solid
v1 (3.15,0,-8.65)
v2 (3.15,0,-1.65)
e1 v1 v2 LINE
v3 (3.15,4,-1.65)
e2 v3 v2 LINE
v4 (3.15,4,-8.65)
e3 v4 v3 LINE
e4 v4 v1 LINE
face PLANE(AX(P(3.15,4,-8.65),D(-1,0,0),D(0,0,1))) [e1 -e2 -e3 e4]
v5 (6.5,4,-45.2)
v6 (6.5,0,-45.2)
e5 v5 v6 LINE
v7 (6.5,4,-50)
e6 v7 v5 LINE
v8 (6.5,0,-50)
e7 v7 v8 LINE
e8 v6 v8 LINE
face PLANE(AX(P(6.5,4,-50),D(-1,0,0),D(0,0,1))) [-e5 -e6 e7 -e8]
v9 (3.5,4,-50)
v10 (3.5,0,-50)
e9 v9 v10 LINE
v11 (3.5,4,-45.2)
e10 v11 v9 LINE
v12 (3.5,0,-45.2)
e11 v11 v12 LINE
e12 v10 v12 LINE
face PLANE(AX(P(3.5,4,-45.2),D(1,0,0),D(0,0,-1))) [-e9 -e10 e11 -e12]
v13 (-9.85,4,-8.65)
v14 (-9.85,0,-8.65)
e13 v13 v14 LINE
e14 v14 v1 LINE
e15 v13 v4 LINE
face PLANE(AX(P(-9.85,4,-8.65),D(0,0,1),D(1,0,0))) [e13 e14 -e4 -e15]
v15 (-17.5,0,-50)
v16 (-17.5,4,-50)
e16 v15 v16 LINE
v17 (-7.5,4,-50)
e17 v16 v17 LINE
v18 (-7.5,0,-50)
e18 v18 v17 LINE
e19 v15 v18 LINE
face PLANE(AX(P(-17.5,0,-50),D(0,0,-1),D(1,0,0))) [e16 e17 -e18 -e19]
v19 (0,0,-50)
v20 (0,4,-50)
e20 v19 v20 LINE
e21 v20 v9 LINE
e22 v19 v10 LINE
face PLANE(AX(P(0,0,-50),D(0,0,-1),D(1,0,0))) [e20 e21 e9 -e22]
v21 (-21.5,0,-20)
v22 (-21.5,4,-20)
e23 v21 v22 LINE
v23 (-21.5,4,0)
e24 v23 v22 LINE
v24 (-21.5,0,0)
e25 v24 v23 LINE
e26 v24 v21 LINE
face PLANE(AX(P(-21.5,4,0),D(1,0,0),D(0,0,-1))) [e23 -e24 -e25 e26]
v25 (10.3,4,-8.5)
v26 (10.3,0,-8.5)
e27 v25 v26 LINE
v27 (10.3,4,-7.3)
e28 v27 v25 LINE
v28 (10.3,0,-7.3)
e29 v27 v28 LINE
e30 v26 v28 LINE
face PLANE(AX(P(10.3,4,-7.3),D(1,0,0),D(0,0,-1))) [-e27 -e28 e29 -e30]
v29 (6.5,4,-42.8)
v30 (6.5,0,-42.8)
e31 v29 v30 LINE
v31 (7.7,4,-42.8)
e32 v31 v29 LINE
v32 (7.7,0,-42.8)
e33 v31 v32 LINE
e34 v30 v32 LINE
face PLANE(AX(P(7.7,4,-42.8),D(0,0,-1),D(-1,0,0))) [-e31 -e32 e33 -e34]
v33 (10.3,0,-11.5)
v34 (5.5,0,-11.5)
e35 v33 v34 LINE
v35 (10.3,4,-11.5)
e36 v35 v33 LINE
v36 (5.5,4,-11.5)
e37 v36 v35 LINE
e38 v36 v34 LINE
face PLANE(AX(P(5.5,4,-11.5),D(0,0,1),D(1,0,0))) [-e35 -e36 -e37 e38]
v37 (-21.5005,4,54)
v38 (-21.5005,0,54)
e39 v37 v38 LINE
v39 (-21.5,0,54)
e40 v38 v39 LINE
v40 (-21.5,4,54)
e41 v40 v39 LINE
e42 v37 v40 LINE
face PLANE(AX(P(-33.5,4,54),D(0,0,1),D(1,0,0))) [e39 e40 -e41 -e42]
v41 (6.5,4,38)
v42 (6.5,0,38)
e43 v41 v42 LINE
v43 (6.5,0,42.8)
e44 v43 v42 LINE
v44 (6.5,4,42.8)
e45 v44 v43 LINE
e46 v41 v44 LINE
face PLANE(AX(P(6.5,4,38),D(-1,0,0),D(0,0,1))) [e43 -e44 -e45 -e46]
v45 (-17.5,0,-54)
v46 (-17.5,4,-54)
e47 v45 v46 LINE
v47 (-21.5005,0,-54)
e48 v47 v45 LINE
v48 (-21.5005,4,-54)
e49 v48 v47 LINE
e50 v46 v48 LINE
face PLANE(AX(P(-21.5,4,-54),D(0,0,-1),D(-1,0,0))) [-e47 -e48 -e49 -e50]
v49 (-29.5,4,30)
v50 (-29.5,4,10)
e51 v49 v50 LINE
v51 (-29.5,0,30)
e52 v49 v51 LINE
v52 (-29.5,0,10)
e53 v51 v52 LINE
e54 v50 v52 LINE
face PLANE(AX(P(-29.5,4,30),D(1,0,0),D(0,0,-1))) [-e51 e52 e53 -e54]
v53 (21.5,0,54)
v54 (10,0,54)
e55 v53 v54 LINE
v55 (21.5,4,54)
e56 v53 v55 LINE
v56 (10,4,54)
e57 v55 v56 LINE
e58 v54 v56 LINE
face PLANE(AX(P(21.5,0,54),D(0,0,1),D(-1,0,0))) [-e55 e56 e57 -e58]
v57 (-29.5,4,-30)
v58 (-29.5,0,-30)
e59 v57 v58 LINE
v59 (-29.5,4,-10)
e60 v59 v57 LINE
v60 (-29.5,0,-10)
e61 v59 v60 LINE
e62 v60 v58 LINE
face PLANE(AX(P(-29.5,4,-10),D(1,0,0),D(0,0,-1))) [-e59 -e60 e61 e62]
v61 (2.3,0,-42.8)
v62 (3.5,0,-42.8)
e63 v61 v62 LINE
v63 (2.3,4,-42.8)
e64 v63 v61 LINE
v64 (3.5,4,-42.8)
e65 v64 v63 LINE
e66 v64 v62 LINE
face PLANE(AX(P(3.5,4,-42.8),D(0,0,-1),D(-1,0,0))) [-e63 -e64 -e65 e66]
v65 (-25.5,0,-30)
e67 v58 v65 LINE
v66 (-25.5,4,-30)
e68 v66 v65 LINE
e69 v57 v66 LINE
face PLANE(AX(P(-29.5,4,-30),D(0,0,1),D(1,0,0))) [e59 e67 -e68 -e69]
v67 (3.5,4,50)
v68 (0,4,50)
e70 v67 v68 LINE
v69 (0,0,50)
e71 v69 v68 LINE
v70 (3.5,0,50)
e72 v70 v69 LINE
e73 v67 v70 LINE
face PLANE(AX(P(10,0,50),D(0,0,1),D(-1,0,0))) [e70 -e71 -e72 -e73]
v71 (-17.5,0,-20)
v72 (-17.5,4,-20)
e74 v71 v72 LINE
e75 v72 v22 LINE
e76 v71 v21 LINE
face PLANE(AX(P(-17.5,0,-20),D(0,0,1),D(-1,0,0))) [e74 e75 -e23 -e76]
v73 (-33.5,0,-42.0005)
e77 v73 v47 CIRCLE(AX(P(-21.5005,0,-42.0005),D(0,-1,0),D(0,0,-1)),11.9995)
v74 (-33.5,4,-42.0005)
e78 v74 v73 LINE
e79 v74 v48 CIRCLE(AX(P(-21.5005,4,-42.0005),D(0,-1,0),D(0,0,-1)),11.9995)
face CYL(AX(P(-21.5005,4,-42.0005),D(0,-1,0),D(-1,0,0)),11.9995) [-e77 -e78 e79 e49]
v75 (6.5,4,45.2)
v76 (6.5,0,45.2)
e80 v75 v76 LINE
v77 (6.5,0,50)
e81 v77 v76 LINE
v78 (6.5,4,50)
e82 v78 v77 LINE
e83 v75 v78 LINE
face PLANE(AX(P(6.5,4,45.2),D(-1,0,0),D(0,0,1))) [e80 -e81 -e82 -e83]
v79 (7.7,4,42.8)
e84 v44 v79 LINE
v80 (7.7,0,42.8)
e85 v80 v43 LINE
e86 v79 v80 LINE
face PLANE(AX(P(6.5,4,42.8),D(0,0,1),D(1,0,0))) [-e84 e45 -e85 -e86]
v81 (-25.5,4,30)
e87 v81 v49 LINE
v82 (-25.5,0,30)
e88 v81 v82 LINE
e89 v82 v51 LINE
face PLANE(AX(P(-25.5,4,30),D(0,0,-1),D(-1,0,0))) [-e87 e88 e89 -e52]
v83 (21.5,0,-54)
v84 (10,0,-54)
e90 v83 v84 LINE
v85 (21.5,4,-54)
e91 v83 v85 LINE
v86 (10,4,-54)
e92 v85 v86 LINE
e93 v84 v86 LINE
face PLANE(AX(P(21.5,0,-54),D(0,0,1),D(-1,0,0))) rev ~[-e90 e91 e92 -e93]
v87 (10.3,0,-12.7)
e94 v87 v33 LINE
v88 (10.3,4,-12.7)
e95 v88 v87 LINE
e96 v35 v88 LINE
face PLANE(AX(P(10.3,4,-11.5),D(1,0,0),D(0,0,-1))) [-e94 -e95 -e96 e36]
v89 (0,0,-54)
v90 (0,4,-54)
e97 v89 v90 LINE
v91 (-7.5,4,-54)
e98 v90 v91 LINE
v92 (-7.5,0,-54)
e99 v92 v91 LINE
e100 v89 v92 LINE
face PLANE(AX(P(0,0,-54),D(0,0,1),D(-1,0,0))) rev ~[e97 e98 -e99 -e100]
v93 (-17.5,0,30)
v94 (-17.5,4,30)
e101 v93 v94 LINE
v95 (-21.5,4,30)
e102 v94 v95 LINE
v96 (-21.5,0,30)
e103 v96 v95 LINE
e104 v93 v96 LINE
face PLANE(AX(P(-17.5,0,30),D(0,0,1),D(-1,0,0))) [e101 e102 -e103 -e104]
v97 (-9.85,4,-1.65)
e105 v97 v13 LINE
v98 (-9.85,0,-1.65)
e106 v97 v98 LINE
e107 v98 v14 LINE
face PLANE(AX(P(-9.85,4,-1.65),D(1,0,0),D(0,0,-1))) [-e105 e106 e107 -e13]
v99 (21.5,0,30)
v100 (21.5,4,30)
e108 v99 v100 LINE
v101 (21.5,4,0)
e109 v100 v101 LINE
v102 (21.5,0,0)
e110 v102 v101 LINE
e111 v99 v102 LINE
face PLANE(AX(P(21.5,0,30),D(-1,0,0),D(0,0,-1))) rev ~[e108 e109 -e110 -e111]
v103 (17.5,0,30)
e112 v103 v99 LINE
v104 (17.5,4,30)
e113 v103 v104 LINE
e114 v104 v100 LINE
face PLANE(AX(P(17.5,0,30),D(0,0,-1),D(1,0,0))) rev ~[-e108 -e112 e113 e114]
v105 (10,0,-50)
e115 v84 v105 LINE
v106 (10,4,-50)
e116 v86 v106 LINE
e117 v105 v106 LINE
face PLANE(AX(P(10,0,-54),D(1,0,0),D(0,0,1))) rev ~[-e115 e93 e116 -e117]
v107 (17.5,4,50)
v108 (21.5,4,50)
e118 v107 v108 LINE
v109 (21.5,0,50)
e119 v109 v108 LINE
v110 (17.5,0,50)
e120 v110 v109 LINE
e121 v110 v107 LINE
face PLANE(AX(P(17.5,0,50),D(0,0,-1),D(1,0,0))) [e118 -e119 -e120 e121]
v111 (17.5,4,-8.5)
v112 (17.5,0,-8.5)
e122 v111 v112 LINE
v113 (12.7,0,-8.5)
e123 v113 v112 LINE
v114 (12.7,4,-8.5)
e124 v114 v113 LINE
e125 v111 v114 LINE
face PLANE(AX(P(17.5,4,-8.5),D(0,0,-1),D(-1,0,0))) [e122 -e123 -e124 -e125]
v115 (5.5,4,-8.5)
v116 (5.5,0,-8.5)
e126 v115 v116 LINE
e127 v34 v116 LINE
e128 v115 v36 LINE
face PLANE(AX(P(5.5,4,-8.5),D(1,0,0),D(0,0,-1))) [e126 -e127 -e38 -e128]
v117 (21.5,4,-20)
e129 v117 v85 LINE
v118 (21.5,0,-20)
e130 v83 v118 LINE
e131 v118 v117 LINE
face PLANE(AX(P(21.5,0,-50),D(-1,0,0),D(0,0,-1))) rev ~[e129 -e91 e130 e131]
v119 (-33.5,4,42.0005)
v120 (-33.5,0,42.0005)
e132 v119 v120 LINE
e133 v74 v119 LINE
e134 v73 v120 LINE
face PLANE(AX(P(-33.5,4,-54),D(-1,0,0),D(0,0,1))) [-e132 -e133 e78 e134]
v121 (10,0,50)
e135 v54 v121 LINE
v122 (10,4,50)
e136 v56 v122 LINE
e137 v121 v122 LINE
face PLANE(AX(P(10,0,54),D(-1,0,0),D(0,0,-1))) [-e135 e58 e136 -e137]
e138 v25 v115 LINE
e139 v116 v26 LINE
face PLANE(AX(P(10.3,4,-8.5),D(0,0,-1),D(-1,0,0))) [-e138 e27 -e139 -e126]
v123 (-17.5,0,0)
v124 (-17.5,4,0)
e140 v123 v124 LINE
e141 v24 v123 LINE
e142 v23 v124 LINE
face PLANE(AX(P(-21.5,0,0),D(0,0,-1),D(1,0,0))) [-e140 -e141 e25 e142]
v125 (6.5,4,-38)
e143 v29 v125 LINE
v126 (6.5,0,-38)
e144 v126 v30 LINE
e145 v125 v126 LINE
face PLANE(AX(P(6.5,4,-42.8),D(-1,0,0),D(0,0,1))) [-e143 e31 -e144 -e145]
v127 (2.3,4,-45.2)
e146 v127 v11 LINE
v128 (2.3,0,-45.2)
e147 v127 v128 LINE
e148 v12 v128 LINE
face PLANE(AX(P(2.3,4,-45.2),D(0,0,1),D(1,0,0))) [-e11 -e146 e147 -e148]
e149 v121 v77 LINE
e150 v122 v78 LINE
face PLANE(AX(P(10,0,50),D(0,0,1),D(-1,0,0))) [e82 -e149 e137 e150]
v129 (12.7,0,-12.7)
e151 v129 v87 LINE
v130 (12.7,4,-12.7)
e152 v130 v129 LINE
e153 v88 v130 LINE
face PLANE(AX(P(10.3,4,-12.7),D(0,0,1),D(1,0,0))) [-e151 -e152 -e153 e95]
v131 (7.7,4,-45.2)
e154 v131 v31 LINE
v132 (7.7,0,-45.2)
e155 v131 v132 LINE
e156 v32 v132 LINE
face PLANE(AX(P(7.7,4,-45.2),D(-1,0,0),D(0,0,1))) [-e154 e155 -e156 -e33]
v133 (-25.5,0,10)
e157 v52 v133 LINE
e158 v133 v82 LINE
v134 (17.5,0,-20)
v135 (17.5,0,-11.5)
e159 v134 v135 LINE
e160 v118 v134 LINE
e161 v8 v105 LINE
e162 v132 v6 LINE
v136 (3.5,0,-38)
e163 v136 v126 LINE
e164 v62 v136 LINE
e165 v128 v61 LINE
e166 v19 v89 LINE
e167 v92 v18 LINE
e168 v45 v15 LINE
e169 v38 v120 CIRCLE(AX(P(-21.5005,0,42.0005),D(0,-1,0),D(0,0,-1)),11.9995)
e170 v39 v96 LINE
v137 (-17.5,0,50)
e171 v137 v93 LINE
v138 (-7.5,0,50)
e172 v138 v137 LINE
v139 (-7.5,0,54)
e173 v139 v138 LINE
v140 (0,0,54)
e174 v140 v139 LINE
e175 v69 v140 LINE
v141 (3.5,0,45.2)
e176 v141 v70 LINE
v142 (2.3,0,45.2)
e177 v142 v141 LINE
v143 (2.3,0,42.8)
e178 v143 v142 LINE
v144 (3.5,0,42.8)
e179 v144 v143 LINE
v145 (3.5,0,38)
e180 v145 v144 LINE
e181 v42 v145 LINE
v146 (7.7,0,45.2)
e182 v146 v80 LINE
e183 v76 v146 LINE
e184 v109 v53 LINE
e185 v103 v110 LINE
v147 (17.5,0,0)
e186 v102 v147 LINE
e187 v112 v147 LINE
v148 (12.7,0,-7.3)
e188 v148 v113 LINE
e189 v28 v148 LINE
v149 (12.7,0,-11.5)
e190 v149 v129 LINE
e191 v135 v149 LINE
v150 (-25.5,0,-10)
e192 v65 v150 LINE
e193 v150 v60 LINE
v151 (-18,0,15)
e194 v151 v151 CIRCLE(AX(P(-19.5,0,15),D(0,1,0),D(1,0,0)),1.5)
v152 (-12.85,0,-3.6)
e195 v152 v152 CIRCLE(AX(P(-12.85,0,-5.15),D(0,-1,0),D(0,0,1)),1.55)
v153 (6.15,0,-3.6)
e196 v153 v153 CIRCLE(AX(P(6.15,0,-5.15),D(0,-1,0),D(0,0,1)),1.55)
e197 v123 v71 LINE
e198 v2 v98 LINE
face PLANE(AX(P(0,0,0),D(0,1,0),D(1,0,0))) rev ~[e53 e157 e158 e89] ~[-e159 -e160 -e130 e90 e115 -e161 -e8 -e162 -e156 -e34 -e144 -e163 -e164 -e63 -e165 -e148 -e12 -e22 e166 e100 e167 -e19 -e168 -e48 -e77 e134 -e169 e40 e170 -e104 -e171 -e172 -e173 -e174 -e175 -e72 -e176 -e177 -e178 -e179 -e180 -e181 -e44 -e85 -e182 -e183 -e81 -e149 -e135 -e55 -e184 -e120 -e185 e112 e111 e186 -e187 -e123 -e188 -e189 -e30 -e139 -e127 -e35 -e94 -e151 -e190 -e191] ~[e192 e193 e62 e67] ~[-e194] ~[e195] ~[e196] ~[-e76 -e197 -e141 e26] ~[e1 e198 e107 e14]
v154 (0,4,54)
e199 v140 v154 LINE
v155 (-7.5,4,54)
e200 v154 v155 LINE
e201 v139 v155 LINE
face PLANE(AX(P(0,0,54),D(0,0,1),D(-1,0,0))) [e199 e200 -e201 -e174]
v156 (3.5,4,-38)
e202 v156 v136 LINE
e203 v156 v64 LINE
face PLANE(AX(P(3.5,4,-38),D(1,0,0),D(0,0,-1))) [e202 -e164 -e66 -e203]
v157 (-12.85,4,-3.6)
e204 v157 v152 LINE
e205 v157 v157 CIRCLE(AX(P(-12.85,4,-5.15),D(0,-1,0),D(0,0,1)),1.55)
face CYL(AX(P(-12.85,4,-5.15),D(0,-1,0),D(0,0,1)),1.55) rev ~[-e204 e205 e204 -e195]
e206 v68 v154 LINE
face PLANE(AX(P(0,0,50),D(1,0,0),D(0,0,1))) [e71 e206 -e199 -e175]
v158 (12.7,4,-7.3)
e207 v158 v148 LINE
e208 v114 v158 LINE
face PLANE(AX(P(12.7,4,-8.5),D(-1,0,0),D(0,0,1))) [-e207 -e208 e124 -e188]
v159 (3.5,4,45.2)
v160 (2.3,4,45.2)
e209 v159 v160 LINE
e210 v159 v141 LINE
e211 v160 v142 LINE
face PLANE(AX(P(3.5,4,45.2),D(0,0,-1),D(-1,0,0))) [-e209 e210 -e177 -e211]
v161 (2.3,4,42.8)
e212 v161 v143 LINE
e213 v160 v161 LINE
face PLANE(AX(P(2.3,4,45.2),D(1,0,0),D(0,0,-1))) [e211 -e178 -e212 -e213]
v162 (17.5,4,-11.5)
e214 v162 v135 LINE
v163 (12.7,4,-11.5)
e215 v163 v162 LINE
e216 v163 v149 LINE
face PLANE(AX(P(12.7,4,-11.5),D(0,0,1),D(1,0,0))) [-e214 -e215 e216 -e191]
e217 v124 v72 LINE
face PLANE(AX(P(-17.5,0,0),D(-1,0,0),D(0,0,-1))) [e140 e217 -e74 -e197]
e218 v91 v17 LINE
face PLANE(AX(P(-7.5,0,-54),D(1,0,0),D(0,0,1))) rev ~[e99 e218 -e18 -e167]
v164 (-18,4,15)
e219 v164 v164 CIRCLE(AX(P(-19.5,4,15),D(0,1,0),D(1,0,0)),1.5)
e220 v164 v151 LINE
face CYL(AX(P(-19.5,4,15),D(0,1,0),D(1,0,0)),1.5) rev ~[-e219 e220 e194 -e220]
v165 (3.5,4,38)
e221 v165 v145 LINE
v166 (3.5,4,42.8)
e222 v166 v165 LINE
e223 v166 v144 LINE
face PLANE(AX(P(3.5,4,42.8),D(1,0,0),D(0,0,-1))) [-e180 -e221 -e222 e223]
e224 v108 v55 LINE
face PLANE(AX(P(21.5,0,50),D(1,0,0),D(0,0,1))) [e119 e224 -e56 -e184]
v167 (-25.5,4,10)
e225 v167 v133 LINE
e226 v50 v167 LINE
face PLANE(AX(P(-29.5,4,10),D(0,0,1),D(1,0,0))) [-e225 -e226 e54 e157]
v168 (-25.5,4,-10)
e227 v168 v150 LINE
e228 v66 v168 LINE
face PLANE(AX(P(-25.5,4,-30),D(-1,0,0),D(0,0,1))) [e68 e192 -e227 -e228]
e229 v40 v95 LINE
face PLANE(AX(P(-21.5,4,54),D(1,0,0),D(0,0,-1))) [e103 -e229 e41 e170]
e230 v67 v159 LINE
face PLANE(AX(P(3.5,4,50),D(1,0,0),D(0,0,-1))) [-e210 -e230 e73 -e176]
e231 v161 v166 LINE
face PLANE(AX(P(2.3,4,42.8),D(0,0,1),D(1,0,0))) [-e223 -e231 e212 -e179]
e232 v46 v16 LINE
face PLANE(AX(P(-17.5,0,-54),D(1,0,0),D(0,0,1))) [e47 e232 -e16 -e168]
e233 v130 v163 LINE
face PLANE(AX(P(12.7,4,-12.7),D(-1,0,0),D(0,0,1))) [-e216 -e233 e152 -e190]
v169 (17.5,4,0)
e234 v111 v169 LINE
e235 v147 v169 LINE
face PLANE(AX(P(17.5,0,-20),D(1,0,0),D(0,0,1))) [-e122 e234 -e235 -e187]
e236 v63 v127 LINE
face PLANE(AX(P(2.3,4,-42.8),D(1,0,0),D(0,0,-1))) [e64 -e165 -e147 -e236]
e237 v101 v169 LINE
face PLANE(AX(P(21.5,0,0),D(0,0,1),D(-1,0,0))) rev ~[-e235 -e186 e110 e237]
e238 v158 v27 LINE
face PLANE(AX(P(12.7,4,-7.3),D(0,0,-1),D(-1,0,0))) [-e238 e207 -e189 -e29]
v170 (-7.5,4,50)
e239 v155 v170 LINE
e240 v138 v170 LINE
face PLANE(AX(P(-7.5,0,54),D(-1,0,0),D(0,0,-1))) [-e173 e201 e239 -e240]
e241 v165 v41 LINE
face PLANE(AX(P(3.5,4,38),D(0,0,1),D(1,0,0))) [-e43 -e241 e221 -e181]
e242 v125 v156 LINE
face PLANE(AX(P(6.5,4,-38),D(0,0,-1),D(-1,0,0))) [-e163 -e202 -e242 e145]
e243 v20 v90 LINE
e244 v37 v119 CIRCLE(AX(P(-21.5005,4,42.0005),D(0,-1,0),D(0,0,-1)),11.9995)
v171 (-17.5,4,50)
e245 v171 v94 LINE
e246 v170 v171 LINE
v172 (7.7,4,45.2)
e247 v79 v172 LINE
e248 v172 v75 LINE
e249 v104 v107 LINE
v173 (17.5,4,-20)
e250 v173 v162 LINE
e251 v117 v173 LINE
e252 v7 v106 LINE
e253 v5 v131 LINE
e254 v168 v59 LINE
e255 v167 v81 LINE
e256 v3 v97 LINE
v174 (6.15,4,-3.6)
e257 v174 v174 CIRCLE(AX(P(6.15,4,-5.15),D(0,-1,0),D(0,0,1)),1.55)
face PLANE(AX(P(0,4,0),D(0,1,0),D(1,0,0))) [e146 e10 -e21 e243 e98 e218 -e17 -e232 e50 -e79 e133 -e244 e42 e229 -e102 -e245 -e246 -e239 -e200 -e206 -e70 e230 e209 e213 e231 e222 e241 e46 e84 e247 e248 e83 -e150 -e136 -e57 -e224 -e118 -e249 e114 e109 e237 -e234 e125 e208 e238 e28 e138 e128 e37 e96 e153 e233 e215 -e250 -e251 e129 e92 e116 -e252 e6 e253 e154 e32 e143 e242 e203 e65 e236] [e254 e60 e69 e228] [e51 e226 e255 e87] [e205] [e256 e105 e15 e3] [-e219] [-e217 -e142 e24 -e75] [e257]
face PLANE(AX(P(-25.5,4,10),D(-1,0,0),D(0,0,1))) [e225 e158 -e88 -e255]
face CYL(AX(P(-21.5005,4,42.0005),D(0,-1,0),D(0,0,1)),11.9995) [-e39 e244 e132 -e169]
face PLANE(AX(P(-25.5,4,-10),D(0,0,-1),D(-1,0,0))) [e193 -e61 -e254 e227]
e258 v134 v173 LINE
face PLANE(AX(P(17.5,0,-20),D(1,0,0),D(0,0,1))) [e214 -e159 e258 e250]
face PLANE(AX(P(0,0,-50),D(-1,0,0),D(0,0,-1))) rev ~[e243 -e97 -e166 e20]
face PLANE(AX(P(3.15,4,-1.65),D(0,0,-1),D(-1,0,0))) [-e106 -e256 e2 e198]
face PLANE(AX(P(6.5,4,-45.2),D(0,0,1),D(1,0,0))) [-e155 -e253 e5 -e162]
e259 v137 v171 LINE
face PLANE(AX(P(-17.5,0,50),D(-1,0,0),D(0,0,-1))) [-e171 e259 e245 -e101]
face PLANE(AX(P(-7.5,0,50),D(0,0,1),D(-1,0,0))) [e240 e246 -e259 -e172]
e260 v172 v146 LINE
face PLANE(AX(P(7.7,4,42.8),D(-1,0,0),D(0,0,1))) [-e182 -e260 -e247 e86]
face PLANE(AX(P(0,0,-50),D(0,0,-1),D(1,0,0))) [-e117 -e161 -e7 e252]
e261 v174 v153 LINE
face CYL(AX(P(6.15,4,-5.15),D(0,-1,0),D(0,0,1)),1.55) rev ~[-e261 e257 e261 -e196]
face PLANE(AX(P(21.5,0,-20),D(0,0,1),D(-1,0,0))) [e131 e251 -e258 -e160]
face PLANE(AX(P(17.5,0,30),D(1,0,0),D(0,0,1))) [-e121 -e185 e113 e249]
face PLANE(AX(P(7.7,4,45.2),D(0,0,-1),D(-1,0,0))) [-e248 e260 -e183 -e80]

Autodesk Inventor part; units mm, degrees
ref_plane "YZ Plane" through (0, 0, 0) normal (1, 0, 0) x (0, 1, 0)
ref_plane "XZ Plane" through (0, 0, 0) normal (0, 1, 0) x (-1, 0, 0)
ref_plane "XY Plane" through (0, 0, 0) normal (0, 0, 1) x (1, 0, 0)
sketch "Sketch1" plane through (0, 0, 0) normal (0, 1, 0) x (-1, 0, 0)
  line L0 (-17.5, 50) -> (17.5, 50)
  line L1 (17.5, 50) -> (17.5, -50)
  line L2 (17.5, -50) -> (-17.5, -50)
  line L3 (-17.5, -50) -> (-17.5, 50)
  line L4 (-17.5, 50) -> (17.5, -50) construction
  line L5 (17.5, 50) -> (-17.5, -50) construction
  line L6 (7.5, 50) -> (0, 50)
  line L7 (0, 50) -> (0, 54)
  line L8 (0, 54) -> (7.5, 54)
  line L9 (7.5, 54) -> (7.5, 50)
  line L10 (-10, 50) -> (-21.5, 50)
  line L11 (-21.5, 50) -> (-21.5, 54)
  line L12 (-21.5, 54) -> (-10, 54)
  line L13 (-10, 54) -> (-10, 50)
  line L14 (17.5, 30) -> (21.5, 30)
  line L15 (21.5, 30) -> (21.5, 0)
  line L16 (21.5, 0) -> (17.5, 0)
  line L17 (17.5, 0) -> (17.5, 30)
  line L18 (17.5, -20) -> (21.5, -20)
  line L19 (21.5, -20) -> (21.5, -54)
  line L20 (21.5, -54) -> (17.5, -54)
  line L21 (17.5, -54) -> (17.5, -20)
  line L22 (7.5, -50) -> (0, -50)
  line L23 (0, -50) -> (0, -54)
  line L24 (0, -54) -> (7.5, -54)
  line L25 (7.5, -54) -> (7.5, -50)
  line L26 (-10, -50) -> (-21.5, -50)
  line L27 (-21.5, -50) -> (-21.5, -54)
  line L28 (-21.5, -54) -> (-10, -54)
  line L29 (-10, -54) -> (-10, -50)
  line L30 (-17.5, 30) -> (-21.5, 30)
  line L31 (-21.5, 30) -> (-21.5, 0)
  line L32 (-21.5, 0) -> (-17.5, 0)
  line L33 (-17.5, 0) -> (-17.5, 30)
  line L34 (-17.5, -50) -> (-21.5, -50)
  line L35 (-21.5, -50) -> (-21.5, -20)
  line L36 (-21.5, -20) -> (-17.5, -20)
  line L37 (-17.5, -20) -> (-17.5, -50)
  point P0 (0, 0)
  point P1 (17.5, 0)
  point P2 (-17.5, 0)
  point P3 (-17.5, -20)
  point P4 (-21.5, -50)
  point P5 (0, -50)
  point P6 (17.5, -50)
  dimension "d0" = 35
  dimension "d2" = 7.5
  dimension "d3" = 4
  dimension "d4" = 11.5
  dimension "d5" = 4
  dimension "d6" = 10
  dimension "d7" = 10
  dimension "d8" = 4
  dimension "d9" = 30
  dimension "d10" = 4
  dimension "d11" = 34
  dimension "d12" = 20
  dimension "d13" = 20
  dimension "d14" = 7.5
  dimension "d15" = 4
  dimension "d16" = 11.5
  dimension "d17" = 4
  dimension "d18" = 10
  dimension "d19" = 10
  dimension "d20" = 4
  dimension "d21" = 30
  dimension "d22" = 20
  dimension "d23" = 4
  dimension "d24" = 30
  dimension "d27" = 4
extrude "Extrusion1" add sketch "Sketch1" along normal blind 4
sketch "Sketch2" plane through (0, 4, 0) normal (0, 1, 0) x (1, 0, 0)
  line L0 (-21.5, 54) -> (-33.5, 54)
  line L1 (-33.5, 54) -> (-33.5, -54)
  line L2 (-33.5, -54) -> (-21.5, -54)
  line L3 (-21.5, -54) -> (-21.5, 54)
  line L4 (-7.5, -54) -> (0, -54) projected
  line L5 (-21.5, 54) -> (-21.5, 20) projected
  line L6 (-21.5, 20) -> (-17.5, 20) projected
  line L7 (-17.5, 20) -> (-17.5, 0) projected
  line L8 (-17.5, 0) -> (-21.5, 0) projected
  line L9 (-21.5, 0) -> (-21.5, -30) projected
  line L10 (-21.5, -30) -> (-17.5, -30) projected
  line L11 (-17.5, -30) -> (-17.5, -50) projected
  line L12 (-17.5, -50) -> (-7.5, -50) projected
  line L13 (-7.5, -50) -> (-7.5, -54) projected
  line L14 (-7.5, -54) -> (0, -54) projected
  line L15 (0, -54) -> (0, -50) projected
  line L16 (0, -50) -> (10, -50) projected
  line L17 (10, -50) -> (10, -54) projected
  line L18 (10, -54) -> (21.5, -54) projected
  line L19 (21.5, -54) -> (21.5, -50) projected
  line L20 (21.5, -50) -> (17.5, -50) projected
  line L21 (17.5, -50) -> (17.5, -30) projected
  line L22 (17.5, -30) -> (21.5, -30) projected
  line L23 (21.5, -30) -> (21.5, 0) projected
  line L24 (21.5, 0) -> (17.5, 0) projected
  line L25 (17.5, 0) -> (17.5, 20) projected
  line L26 (17.5, 20) -> (21.5, 20) projected
  line L27 (21.5, 20) -> (21.5, 54) projected
  line L28 (21.5, 54) -> (10, 54) projected
  line L29 (10, 54) -> (10, 50) projected
  line L30 (10, 50) -> (0, 50) projected
  line L31 (0, 50) -> (0, 54) projected
  line L32 (0, 54) -> (-7.5, 54) projected
  line L33 (-7.5, 54) -> (-7.5, 50) projected
  line L34 (-7.5, 50) -> (-17.5, 50) projected
  line L35 (-17.5, 50) -> (-17.5, 54) projected
  line L36 (-17.5, 54) -> (-21.5, 54) projected
  line L37 (-29.5, 30) -> (-25.5, 30)
  line L38 (-25.5, 30) -> (-25.5, 10)
  line L39 (-25.5, 10) -> (-29.5, 10)
  line L40 (-29.5, 10) -> (-29.5, 30)
  line L41 (-25.5, -30) -> (-29.5, -30)
  line L42 (-29.5, -30) -> (-29.5, -10)
  line L43 (-29.5, -10) -> (-25.5, -10)
  line L44 (-25.5, -10) -> (-25.5, -30)
  line L45 (-29.5, 10) -> (-25.5, -10) construction
  point P0 (0, 0)
  point P1 (-27.5, 0)
  point P2 (-33.5, 0)
  dimension "d29" = 4
  dimension "d30" = 20
  dimension "d31" = 20
  dimension "d32" = 4
  dimension "d35" = 51
extrude "Extrusion2" add sketch "Sketch2" against normal up to surface (4 mm away) contours L3 L2 L1 L0
sketch "Sketch3" plane through (0, 4, 0) normal (0, 1, 0) x (1, 0, 0)
  line L0 (-1.8, 2) -> (-1.8, 8.3) construction
  line L1 (17.5, 0) -> (17.5, 20) projected
  line L2 (-21.5, -30) -> (-17.5, -30) projected
  line L3 (-17.5, -30) -> (-17.5, -50) projected
  line L4 (-17.5, -50) -> (-7.5, -50) projected
  line L5 (-7.5, -50) -> (-7.5, -54) projected
  line L6 (-7.5, -54) -> (0, -54) projected
  line L7 (0, -54) -> (0, -50) projected
  line L8 (0, -50) -> (10, -50) projected
  line L9 (10, -50) -> (10, -54) projected
  line L10 (10, -54) -> (21.5, -54) projected
  line L11 (21.5, -54) -> (21.5, -50) projected
  line L12 (21.5, -50) -> (17.5, -50) projected
  line L13 (17.5, -50) -> (17.5, -30) projected
  line L14 (17.5, -30) -> (21.5, -30) projected
  line L15 (21.5, -30) -> (21.5, 0) projected
  line L16 (21.5, 0) -> (17.5, 0) projected
  line L17 (17.5, 0) -> (17.5, 20) projected
  line L18 (17.5, 20) -> (21.5, 20) projected
  line L19 (21.5, 20) -> (21.5, 54) projected
  line L20 (21.5, 54) -> (10, 54) projected
  line L21 (10, 54) -> (10, 50) projected
  line L22 (10, 50) -> (0, 50) projected
  line L23 (0, 50) -> (0, 54) projected
  line L24 (0, 54) -> (-7.5, 54) projected
  line L25 (-7.5, 54) -> (-7.5, 50) projected
  line L26 (-7.5, 50) -> (-17.5, 50) projected
  line L27 (-17.5, 50) -> (-17.5, 54) projected
  line L28 (-17.5, 54) -> (-33.5, 54) projected
  line L29 (-33.5, 54) -> (-33.5, -54) projected
  line L30 (-33.5, -54) -> (-21.5, -54) projected
  line L31 (-21.5, -54) -> (-21.5, -30) projected
  line L32 (-25.5, -30) -> (-29.5, -30) projected
  line L33 (-29.5, -30) -> (-29.5, -10) projected
  line L34 (-29.5, -10) -> (-25.5, -10) projected
  line L35 (-25.5, -10) -> (-25.5, -30) projected
  line L36 (-29.5, 30) -> (-25.5, 30) projected
  line L37 (-25.5, 30) -> (-25.5, 10) projected
  line L38 (-25.5, 10) -> (-29.5, 10) projected
  line L39 (-29.5, 10) -> (-29.5, 30) projected
  line L40 (-21.5, 0) -> (-21.5, 20) projected
  line L41 (-21.5, 20) -> (-17.5, 20) projected
  line L42 (-17.5, 20) -> (-17.5, 0) projected
  line L43 (-17.5, 0) -> (-21.5, 0) projected
  line L44 (-25.5, 10) -> (-29.5, 10) projected
  line L45 (-25.5, -30) -> (-25.5, -10) projected
  line L46 (-29.5, 10) -> (-25.5, -10) construction
  point P0 (0, 0)
  point P1 (-27.5, 0)
  point P2 (6.15, 5.15)
  point P3 (-12.85, 5.15)
  point P4 (-1.8, 5.15)
  dimension "d36" = 19.3
  dimension "d37" = 6.3
  dimension "d38" = 2
  dimension "d39" = 7.95
  dimension "d40" = 11.05
hole "Hole1" at (-12.85, 4, -5.15) at (6.15, 4, -5.15) direction (0, -1, 0) diameter 3.1 depth 4
sketch "Sketch4" plane through (0, 4, 0) normal (0, 1, 0) x (1, 0, 0)
  circle A0 centre (-12.85, 5.15) radius 1.55 projected
  circle A1 centre (6.15, 5.15) radius 1.55 projected
  line L0 (-21.5, -30) -> (-17.5, -30) projected
  line L1 (-17.5, -30) -> (-17.5, -50) projected
  line L2 (-17.5, -50) -> (-7.5, -50) projected
  line L3 (-7.5, -50) -> (-7.5, -54) projected
  line L4 (-7.5, -54) -> (0, -54) projected
  line L5 (0, -54) -> (0, -50) projected
  line L6 (0, -50) -> (10, -50) projected
  line L7 (10, -50) -> (10, -54) projected
  line L8 (10, -54) -> (21.5, -54) projected
  line L9 (21.5, -54) -> (21.5, -50) projected
  line L10 (21.5, -50) -> (17.5, -50) projected
  line L11 (17.5, -50) -> (17.5, -30) projected
  line L12 (17.5, -30) -> (21.5, -30) projected
  line L13 (21.5, -30) -> (21.5, 0) projected
  line L14 (21.5, 0) -> (17.5, 0) projected
  line L15 (17.5, 0) -> (17.5, 20) projected
  line L16 (17.5, 20) -> (21.5, 20) projected
  line L17 (21.5, 20) -> (21.5, 54) projected
  line L18 (21.5, 54) -> (10, 54) projected
  line L19 (10, 54) -> (10, 50) projected
  line L20 (10, 50) -> (0, 50) projected
  line L21 (0, 50) -> (0, 54) projected
  line L22 (0, 54) -> (-7.5, 54) projected
  line L23 (-7.5, 54) -> (-7.5, 50) projected
  line L24 (-7.5, 50) -> (-17.5, 50) projected
  line L25 (-17.5, 50) -> (-17.5, 54) projected
  line L26 (-17.5, 54) -> (-33.5, 54) projected
  line L27 (-33.5, 54) -> (-33.5, -54) projected
  line L28 (-33.5, -54) -> (-21.5, -54) projected
  line L29 (-21.5, -54) -> (-21.5, -30) projected
  line L30 (-25.5, -30) -> (-29.5, -30) projected
  line L31 (-29.5, -30) -> (-29.5, -10) projected
  line L32 (-29.5, -10) -> (-25.5, -10) projected
  line L33 (-25.5, -10) -> (-25.5, -30) projected
  line L34 (-29.5, 30) -> (-25.5, 30) projected
  line L35 (-25.5, 30) -> (-25.5, 10) projected
  line L36 (-25.5, 10) -> (-29.5, 10) projected
  line L37 (-29.5, 10) -> (-29.5, 30) projected
  line L38 (-21.5, 0) -> (-21.5, 20) projected
  line L39 (-21.5, 20) -> (-17.5, 20) projected
  line L40 (-17.5, 20) -> (-17.5, 0) projected
  line L41 (-17.5, 0) -> (-21.5, 0) projected
  line L42 (-9.85, 8.65) -> (3.15, 8.65)
  line L43 (3.15, 8.65) -> (3.15, 1.65)
  line L44 (3.15, 1.65) -> (-9.85, 1.65)
  line L45 (-9.85, 1.65) -> (-9.85, 8.65)
  line L46 (-12.85, 5.15) -> (-9.85, 5.15) construction
  line L47 (3.15, 5.15) -> (6.15, 5.15) construction
  point P0 (0, 0)
  dimension "d49" = 7
  dimension "d54" = 3
extrude "Extrusion3" cut sketch "Sketch4" against normal through all contours L42 L43 L44 L45
sketch "Sketch5" plane through (0, 4, 0) normal (0, 1, 0) x (1, 0, 0)
  line L0 (12.7, 11.5) -> (17.5, 11.5) projected
  line L1 (17.5, 11.5) -> (17.5, 20) construction
  line L2 (17.5, 20) -> (21.5, 20) construction
  line L3 (21.5, 20) -> (21.5, 54) construction
  line L4 (21.5, 54) -> (10, 54) construction
  line L5 (10, 54) -> (10, 50) construction
  line L6 (10, 50) -> (6.5, 50) construction
  line L7 (6.5, 50) -> (6.5, 45.2) projected
  line L8 (6.5, 45.2) -> (7.7, 45.2) projected
  line L9 (7.7, 45.2) -> (7.7, 42.8) projected
  line L10 (7.7, 42.8) -> (6.5, 42.8) projected
  line L11 (6.5, 42.8) -> (6.5, 38) projected
  line L12 (6.5, 38) -> (3.5, 38) projected
  line L13 (3.5, 38) -> (3.5, 42.8) projected
  line L14 (3.5, 42.8) -> (2.3, 42.8) projected
  line L15 (2.3, 42.8) -> (2.3, 45.2) projected
  line L16 (2.3, 45.2) -> (3.5, 45.2) projected
  line L17 (3.5, 45.2) -> (3.5, 50) projected
  line L18 (3.5, 50) -> (0, 50) construction
  line L19 (0, 50) -> (0, 54) construction
  line L20 (0, 54) -> (-7.5, 54) construction
  line L21 (-7.5, 54) -> (-7.5, 50) construction
  line L22 (-7.5, 50) -> (-17.5, 50) construction
  line L23 (-17.5, 50) -> (-17.5, 54) construction
  line L24 (-17.5, 54) -> (-33.5, 54) construction
  line L25 (-33.5, 54) -> (-33.5, -54) construction
  line L26 (-33.5, -54) -> (-21.5, -54) construction
  line L27 (-21.5, -54) -> (-21.5, -30) construction
  line L28 (-21.5, -30) -> (-17.5, -30) construction
  line L29 (-17.5, -30) -> (-17.5, -50) construction
  line L30 (-17.5, -50) -> (-7.5, -50) construction
  line L31 (-7.5, -50) -> (-7.5, -54) construction
  line L32 (-7.5, -54) -> (0, -54) construction
  line L33 (0, -54) -> (0, -50) projected
  line L34 (0, -50) -> (3.5, -50) projected
  line L35 (3.5, -50) -> (3.5, -45.2) projected
  line L36 (3.5, -45.2) -> (2.3, -45.2) projected
  line L37 (2.3, -45.2) -> (2.3, -42.8) projected
  line L38 (2.3, -42.8) -> (3.5, -42.8) projected
  line L39 (3.5, -42.8) -> (3.5, -38) projected
  line L40 (3.5, -38) -> (6.5, -38) projected
  line L41 (6.5, -38) -> (6.5, -42.8) projected
  line L42 (6.5, -42.8) -> (7.7, -42.8) projected
  line L43 (7.7, -42.8) -> (7.7, -45.2) projected
  line L44 (7.7, -45.2) -> (6.5, -45.2) projected
  line L45 (6.5, -45.2) -> (6.5, -50) projected
  line L46 (6.5, -50) -> (10, -50) construction
  line L47 (10, -50) -> (10, -54) construction
  line L48 (10, -54) -> (21.5, -54) construction
  line L49 (21.5, -54) -> (21.5, -50) construction
  line L50 (21.5, -50) -> (17.5, -50) construction
  line L51 (17.5, -50) -> (17.5, -30) construction
  line L52 (17.5, -30) -> (21.5, -30) construction
  line L53 (21.5, 0) -> (17.5, 0) construction
  line L54 (17.5, 0) -> (17.5, 8.5) construction
  line L55 (17.5, 8.5) -> (12.7, 8.5) projected
  line L56 (12.7, 8.5) -> (12.7, 7.3) projected
  line L57 (12.7, 7.3) -> (10.3, 7.3) projected
  line L58 (10.3, 7.3) -> (10.3, 8.5) projected
  line L59 (10.3, 8.5) -> (5.5, 8.5) projected
  line L60 (5.5, 8.5) -> (5.5, 11.5) projected
  line L61 (5.5, 11.5) -> (10.3, 11.5) projected
  line L62 (10.3, 11.5) -> (10.3, 12.7) projected
  line L63 (10.3, 12.7) -> (12.7, 12.7) projected
  line L64 (12.7, 12.7) -> (12.7, 11.5) projected
  circle A0 centre (-19.5, -15) radius 1.5 projected
  line L65 (-29.5, 10) -> (-25.5, 10) construction
  line L66 (-25.5, 10) -> (-25.5, -10) construction
  line L67 (-25.5, -10) -> (-29.5, -10) construction
  line L68 (-29.5, -10) -> (-29.5, 10) construction
  line L69 (-21.5, 0) -> (-21.5, 20) construction
  line L70 (-21.5, 20) -> (-17.5, 20) construction
  line L71 (-17.5, 20) -> (-17.5, 0) construction
  line L72 (-17.5, 0) -> (-21.5, 0) construction
  line L73 (3.5, 50) -> (6.5, 50)
  line L74 (10, 50) -> (0, 50) projected
  line L75 (17.5, 11.5) -> (17.5, 8.5)
  line L76 (3.5, -50) -> (6.5, -50)
  line L77 (0, -50) -> (10, -50) projected
  point P0 (0, 0)
extrude "Extrusion4" cut sketch "Sketch5" against normal up to next
fillet "Fillet1" radius 12 2 edges at (-33.5, 2, 54) (-33.5, 2, -54)
properties part number "FloorButtonHolder_Top_V1_B" material "MDF Medium Density Fiberboard"
